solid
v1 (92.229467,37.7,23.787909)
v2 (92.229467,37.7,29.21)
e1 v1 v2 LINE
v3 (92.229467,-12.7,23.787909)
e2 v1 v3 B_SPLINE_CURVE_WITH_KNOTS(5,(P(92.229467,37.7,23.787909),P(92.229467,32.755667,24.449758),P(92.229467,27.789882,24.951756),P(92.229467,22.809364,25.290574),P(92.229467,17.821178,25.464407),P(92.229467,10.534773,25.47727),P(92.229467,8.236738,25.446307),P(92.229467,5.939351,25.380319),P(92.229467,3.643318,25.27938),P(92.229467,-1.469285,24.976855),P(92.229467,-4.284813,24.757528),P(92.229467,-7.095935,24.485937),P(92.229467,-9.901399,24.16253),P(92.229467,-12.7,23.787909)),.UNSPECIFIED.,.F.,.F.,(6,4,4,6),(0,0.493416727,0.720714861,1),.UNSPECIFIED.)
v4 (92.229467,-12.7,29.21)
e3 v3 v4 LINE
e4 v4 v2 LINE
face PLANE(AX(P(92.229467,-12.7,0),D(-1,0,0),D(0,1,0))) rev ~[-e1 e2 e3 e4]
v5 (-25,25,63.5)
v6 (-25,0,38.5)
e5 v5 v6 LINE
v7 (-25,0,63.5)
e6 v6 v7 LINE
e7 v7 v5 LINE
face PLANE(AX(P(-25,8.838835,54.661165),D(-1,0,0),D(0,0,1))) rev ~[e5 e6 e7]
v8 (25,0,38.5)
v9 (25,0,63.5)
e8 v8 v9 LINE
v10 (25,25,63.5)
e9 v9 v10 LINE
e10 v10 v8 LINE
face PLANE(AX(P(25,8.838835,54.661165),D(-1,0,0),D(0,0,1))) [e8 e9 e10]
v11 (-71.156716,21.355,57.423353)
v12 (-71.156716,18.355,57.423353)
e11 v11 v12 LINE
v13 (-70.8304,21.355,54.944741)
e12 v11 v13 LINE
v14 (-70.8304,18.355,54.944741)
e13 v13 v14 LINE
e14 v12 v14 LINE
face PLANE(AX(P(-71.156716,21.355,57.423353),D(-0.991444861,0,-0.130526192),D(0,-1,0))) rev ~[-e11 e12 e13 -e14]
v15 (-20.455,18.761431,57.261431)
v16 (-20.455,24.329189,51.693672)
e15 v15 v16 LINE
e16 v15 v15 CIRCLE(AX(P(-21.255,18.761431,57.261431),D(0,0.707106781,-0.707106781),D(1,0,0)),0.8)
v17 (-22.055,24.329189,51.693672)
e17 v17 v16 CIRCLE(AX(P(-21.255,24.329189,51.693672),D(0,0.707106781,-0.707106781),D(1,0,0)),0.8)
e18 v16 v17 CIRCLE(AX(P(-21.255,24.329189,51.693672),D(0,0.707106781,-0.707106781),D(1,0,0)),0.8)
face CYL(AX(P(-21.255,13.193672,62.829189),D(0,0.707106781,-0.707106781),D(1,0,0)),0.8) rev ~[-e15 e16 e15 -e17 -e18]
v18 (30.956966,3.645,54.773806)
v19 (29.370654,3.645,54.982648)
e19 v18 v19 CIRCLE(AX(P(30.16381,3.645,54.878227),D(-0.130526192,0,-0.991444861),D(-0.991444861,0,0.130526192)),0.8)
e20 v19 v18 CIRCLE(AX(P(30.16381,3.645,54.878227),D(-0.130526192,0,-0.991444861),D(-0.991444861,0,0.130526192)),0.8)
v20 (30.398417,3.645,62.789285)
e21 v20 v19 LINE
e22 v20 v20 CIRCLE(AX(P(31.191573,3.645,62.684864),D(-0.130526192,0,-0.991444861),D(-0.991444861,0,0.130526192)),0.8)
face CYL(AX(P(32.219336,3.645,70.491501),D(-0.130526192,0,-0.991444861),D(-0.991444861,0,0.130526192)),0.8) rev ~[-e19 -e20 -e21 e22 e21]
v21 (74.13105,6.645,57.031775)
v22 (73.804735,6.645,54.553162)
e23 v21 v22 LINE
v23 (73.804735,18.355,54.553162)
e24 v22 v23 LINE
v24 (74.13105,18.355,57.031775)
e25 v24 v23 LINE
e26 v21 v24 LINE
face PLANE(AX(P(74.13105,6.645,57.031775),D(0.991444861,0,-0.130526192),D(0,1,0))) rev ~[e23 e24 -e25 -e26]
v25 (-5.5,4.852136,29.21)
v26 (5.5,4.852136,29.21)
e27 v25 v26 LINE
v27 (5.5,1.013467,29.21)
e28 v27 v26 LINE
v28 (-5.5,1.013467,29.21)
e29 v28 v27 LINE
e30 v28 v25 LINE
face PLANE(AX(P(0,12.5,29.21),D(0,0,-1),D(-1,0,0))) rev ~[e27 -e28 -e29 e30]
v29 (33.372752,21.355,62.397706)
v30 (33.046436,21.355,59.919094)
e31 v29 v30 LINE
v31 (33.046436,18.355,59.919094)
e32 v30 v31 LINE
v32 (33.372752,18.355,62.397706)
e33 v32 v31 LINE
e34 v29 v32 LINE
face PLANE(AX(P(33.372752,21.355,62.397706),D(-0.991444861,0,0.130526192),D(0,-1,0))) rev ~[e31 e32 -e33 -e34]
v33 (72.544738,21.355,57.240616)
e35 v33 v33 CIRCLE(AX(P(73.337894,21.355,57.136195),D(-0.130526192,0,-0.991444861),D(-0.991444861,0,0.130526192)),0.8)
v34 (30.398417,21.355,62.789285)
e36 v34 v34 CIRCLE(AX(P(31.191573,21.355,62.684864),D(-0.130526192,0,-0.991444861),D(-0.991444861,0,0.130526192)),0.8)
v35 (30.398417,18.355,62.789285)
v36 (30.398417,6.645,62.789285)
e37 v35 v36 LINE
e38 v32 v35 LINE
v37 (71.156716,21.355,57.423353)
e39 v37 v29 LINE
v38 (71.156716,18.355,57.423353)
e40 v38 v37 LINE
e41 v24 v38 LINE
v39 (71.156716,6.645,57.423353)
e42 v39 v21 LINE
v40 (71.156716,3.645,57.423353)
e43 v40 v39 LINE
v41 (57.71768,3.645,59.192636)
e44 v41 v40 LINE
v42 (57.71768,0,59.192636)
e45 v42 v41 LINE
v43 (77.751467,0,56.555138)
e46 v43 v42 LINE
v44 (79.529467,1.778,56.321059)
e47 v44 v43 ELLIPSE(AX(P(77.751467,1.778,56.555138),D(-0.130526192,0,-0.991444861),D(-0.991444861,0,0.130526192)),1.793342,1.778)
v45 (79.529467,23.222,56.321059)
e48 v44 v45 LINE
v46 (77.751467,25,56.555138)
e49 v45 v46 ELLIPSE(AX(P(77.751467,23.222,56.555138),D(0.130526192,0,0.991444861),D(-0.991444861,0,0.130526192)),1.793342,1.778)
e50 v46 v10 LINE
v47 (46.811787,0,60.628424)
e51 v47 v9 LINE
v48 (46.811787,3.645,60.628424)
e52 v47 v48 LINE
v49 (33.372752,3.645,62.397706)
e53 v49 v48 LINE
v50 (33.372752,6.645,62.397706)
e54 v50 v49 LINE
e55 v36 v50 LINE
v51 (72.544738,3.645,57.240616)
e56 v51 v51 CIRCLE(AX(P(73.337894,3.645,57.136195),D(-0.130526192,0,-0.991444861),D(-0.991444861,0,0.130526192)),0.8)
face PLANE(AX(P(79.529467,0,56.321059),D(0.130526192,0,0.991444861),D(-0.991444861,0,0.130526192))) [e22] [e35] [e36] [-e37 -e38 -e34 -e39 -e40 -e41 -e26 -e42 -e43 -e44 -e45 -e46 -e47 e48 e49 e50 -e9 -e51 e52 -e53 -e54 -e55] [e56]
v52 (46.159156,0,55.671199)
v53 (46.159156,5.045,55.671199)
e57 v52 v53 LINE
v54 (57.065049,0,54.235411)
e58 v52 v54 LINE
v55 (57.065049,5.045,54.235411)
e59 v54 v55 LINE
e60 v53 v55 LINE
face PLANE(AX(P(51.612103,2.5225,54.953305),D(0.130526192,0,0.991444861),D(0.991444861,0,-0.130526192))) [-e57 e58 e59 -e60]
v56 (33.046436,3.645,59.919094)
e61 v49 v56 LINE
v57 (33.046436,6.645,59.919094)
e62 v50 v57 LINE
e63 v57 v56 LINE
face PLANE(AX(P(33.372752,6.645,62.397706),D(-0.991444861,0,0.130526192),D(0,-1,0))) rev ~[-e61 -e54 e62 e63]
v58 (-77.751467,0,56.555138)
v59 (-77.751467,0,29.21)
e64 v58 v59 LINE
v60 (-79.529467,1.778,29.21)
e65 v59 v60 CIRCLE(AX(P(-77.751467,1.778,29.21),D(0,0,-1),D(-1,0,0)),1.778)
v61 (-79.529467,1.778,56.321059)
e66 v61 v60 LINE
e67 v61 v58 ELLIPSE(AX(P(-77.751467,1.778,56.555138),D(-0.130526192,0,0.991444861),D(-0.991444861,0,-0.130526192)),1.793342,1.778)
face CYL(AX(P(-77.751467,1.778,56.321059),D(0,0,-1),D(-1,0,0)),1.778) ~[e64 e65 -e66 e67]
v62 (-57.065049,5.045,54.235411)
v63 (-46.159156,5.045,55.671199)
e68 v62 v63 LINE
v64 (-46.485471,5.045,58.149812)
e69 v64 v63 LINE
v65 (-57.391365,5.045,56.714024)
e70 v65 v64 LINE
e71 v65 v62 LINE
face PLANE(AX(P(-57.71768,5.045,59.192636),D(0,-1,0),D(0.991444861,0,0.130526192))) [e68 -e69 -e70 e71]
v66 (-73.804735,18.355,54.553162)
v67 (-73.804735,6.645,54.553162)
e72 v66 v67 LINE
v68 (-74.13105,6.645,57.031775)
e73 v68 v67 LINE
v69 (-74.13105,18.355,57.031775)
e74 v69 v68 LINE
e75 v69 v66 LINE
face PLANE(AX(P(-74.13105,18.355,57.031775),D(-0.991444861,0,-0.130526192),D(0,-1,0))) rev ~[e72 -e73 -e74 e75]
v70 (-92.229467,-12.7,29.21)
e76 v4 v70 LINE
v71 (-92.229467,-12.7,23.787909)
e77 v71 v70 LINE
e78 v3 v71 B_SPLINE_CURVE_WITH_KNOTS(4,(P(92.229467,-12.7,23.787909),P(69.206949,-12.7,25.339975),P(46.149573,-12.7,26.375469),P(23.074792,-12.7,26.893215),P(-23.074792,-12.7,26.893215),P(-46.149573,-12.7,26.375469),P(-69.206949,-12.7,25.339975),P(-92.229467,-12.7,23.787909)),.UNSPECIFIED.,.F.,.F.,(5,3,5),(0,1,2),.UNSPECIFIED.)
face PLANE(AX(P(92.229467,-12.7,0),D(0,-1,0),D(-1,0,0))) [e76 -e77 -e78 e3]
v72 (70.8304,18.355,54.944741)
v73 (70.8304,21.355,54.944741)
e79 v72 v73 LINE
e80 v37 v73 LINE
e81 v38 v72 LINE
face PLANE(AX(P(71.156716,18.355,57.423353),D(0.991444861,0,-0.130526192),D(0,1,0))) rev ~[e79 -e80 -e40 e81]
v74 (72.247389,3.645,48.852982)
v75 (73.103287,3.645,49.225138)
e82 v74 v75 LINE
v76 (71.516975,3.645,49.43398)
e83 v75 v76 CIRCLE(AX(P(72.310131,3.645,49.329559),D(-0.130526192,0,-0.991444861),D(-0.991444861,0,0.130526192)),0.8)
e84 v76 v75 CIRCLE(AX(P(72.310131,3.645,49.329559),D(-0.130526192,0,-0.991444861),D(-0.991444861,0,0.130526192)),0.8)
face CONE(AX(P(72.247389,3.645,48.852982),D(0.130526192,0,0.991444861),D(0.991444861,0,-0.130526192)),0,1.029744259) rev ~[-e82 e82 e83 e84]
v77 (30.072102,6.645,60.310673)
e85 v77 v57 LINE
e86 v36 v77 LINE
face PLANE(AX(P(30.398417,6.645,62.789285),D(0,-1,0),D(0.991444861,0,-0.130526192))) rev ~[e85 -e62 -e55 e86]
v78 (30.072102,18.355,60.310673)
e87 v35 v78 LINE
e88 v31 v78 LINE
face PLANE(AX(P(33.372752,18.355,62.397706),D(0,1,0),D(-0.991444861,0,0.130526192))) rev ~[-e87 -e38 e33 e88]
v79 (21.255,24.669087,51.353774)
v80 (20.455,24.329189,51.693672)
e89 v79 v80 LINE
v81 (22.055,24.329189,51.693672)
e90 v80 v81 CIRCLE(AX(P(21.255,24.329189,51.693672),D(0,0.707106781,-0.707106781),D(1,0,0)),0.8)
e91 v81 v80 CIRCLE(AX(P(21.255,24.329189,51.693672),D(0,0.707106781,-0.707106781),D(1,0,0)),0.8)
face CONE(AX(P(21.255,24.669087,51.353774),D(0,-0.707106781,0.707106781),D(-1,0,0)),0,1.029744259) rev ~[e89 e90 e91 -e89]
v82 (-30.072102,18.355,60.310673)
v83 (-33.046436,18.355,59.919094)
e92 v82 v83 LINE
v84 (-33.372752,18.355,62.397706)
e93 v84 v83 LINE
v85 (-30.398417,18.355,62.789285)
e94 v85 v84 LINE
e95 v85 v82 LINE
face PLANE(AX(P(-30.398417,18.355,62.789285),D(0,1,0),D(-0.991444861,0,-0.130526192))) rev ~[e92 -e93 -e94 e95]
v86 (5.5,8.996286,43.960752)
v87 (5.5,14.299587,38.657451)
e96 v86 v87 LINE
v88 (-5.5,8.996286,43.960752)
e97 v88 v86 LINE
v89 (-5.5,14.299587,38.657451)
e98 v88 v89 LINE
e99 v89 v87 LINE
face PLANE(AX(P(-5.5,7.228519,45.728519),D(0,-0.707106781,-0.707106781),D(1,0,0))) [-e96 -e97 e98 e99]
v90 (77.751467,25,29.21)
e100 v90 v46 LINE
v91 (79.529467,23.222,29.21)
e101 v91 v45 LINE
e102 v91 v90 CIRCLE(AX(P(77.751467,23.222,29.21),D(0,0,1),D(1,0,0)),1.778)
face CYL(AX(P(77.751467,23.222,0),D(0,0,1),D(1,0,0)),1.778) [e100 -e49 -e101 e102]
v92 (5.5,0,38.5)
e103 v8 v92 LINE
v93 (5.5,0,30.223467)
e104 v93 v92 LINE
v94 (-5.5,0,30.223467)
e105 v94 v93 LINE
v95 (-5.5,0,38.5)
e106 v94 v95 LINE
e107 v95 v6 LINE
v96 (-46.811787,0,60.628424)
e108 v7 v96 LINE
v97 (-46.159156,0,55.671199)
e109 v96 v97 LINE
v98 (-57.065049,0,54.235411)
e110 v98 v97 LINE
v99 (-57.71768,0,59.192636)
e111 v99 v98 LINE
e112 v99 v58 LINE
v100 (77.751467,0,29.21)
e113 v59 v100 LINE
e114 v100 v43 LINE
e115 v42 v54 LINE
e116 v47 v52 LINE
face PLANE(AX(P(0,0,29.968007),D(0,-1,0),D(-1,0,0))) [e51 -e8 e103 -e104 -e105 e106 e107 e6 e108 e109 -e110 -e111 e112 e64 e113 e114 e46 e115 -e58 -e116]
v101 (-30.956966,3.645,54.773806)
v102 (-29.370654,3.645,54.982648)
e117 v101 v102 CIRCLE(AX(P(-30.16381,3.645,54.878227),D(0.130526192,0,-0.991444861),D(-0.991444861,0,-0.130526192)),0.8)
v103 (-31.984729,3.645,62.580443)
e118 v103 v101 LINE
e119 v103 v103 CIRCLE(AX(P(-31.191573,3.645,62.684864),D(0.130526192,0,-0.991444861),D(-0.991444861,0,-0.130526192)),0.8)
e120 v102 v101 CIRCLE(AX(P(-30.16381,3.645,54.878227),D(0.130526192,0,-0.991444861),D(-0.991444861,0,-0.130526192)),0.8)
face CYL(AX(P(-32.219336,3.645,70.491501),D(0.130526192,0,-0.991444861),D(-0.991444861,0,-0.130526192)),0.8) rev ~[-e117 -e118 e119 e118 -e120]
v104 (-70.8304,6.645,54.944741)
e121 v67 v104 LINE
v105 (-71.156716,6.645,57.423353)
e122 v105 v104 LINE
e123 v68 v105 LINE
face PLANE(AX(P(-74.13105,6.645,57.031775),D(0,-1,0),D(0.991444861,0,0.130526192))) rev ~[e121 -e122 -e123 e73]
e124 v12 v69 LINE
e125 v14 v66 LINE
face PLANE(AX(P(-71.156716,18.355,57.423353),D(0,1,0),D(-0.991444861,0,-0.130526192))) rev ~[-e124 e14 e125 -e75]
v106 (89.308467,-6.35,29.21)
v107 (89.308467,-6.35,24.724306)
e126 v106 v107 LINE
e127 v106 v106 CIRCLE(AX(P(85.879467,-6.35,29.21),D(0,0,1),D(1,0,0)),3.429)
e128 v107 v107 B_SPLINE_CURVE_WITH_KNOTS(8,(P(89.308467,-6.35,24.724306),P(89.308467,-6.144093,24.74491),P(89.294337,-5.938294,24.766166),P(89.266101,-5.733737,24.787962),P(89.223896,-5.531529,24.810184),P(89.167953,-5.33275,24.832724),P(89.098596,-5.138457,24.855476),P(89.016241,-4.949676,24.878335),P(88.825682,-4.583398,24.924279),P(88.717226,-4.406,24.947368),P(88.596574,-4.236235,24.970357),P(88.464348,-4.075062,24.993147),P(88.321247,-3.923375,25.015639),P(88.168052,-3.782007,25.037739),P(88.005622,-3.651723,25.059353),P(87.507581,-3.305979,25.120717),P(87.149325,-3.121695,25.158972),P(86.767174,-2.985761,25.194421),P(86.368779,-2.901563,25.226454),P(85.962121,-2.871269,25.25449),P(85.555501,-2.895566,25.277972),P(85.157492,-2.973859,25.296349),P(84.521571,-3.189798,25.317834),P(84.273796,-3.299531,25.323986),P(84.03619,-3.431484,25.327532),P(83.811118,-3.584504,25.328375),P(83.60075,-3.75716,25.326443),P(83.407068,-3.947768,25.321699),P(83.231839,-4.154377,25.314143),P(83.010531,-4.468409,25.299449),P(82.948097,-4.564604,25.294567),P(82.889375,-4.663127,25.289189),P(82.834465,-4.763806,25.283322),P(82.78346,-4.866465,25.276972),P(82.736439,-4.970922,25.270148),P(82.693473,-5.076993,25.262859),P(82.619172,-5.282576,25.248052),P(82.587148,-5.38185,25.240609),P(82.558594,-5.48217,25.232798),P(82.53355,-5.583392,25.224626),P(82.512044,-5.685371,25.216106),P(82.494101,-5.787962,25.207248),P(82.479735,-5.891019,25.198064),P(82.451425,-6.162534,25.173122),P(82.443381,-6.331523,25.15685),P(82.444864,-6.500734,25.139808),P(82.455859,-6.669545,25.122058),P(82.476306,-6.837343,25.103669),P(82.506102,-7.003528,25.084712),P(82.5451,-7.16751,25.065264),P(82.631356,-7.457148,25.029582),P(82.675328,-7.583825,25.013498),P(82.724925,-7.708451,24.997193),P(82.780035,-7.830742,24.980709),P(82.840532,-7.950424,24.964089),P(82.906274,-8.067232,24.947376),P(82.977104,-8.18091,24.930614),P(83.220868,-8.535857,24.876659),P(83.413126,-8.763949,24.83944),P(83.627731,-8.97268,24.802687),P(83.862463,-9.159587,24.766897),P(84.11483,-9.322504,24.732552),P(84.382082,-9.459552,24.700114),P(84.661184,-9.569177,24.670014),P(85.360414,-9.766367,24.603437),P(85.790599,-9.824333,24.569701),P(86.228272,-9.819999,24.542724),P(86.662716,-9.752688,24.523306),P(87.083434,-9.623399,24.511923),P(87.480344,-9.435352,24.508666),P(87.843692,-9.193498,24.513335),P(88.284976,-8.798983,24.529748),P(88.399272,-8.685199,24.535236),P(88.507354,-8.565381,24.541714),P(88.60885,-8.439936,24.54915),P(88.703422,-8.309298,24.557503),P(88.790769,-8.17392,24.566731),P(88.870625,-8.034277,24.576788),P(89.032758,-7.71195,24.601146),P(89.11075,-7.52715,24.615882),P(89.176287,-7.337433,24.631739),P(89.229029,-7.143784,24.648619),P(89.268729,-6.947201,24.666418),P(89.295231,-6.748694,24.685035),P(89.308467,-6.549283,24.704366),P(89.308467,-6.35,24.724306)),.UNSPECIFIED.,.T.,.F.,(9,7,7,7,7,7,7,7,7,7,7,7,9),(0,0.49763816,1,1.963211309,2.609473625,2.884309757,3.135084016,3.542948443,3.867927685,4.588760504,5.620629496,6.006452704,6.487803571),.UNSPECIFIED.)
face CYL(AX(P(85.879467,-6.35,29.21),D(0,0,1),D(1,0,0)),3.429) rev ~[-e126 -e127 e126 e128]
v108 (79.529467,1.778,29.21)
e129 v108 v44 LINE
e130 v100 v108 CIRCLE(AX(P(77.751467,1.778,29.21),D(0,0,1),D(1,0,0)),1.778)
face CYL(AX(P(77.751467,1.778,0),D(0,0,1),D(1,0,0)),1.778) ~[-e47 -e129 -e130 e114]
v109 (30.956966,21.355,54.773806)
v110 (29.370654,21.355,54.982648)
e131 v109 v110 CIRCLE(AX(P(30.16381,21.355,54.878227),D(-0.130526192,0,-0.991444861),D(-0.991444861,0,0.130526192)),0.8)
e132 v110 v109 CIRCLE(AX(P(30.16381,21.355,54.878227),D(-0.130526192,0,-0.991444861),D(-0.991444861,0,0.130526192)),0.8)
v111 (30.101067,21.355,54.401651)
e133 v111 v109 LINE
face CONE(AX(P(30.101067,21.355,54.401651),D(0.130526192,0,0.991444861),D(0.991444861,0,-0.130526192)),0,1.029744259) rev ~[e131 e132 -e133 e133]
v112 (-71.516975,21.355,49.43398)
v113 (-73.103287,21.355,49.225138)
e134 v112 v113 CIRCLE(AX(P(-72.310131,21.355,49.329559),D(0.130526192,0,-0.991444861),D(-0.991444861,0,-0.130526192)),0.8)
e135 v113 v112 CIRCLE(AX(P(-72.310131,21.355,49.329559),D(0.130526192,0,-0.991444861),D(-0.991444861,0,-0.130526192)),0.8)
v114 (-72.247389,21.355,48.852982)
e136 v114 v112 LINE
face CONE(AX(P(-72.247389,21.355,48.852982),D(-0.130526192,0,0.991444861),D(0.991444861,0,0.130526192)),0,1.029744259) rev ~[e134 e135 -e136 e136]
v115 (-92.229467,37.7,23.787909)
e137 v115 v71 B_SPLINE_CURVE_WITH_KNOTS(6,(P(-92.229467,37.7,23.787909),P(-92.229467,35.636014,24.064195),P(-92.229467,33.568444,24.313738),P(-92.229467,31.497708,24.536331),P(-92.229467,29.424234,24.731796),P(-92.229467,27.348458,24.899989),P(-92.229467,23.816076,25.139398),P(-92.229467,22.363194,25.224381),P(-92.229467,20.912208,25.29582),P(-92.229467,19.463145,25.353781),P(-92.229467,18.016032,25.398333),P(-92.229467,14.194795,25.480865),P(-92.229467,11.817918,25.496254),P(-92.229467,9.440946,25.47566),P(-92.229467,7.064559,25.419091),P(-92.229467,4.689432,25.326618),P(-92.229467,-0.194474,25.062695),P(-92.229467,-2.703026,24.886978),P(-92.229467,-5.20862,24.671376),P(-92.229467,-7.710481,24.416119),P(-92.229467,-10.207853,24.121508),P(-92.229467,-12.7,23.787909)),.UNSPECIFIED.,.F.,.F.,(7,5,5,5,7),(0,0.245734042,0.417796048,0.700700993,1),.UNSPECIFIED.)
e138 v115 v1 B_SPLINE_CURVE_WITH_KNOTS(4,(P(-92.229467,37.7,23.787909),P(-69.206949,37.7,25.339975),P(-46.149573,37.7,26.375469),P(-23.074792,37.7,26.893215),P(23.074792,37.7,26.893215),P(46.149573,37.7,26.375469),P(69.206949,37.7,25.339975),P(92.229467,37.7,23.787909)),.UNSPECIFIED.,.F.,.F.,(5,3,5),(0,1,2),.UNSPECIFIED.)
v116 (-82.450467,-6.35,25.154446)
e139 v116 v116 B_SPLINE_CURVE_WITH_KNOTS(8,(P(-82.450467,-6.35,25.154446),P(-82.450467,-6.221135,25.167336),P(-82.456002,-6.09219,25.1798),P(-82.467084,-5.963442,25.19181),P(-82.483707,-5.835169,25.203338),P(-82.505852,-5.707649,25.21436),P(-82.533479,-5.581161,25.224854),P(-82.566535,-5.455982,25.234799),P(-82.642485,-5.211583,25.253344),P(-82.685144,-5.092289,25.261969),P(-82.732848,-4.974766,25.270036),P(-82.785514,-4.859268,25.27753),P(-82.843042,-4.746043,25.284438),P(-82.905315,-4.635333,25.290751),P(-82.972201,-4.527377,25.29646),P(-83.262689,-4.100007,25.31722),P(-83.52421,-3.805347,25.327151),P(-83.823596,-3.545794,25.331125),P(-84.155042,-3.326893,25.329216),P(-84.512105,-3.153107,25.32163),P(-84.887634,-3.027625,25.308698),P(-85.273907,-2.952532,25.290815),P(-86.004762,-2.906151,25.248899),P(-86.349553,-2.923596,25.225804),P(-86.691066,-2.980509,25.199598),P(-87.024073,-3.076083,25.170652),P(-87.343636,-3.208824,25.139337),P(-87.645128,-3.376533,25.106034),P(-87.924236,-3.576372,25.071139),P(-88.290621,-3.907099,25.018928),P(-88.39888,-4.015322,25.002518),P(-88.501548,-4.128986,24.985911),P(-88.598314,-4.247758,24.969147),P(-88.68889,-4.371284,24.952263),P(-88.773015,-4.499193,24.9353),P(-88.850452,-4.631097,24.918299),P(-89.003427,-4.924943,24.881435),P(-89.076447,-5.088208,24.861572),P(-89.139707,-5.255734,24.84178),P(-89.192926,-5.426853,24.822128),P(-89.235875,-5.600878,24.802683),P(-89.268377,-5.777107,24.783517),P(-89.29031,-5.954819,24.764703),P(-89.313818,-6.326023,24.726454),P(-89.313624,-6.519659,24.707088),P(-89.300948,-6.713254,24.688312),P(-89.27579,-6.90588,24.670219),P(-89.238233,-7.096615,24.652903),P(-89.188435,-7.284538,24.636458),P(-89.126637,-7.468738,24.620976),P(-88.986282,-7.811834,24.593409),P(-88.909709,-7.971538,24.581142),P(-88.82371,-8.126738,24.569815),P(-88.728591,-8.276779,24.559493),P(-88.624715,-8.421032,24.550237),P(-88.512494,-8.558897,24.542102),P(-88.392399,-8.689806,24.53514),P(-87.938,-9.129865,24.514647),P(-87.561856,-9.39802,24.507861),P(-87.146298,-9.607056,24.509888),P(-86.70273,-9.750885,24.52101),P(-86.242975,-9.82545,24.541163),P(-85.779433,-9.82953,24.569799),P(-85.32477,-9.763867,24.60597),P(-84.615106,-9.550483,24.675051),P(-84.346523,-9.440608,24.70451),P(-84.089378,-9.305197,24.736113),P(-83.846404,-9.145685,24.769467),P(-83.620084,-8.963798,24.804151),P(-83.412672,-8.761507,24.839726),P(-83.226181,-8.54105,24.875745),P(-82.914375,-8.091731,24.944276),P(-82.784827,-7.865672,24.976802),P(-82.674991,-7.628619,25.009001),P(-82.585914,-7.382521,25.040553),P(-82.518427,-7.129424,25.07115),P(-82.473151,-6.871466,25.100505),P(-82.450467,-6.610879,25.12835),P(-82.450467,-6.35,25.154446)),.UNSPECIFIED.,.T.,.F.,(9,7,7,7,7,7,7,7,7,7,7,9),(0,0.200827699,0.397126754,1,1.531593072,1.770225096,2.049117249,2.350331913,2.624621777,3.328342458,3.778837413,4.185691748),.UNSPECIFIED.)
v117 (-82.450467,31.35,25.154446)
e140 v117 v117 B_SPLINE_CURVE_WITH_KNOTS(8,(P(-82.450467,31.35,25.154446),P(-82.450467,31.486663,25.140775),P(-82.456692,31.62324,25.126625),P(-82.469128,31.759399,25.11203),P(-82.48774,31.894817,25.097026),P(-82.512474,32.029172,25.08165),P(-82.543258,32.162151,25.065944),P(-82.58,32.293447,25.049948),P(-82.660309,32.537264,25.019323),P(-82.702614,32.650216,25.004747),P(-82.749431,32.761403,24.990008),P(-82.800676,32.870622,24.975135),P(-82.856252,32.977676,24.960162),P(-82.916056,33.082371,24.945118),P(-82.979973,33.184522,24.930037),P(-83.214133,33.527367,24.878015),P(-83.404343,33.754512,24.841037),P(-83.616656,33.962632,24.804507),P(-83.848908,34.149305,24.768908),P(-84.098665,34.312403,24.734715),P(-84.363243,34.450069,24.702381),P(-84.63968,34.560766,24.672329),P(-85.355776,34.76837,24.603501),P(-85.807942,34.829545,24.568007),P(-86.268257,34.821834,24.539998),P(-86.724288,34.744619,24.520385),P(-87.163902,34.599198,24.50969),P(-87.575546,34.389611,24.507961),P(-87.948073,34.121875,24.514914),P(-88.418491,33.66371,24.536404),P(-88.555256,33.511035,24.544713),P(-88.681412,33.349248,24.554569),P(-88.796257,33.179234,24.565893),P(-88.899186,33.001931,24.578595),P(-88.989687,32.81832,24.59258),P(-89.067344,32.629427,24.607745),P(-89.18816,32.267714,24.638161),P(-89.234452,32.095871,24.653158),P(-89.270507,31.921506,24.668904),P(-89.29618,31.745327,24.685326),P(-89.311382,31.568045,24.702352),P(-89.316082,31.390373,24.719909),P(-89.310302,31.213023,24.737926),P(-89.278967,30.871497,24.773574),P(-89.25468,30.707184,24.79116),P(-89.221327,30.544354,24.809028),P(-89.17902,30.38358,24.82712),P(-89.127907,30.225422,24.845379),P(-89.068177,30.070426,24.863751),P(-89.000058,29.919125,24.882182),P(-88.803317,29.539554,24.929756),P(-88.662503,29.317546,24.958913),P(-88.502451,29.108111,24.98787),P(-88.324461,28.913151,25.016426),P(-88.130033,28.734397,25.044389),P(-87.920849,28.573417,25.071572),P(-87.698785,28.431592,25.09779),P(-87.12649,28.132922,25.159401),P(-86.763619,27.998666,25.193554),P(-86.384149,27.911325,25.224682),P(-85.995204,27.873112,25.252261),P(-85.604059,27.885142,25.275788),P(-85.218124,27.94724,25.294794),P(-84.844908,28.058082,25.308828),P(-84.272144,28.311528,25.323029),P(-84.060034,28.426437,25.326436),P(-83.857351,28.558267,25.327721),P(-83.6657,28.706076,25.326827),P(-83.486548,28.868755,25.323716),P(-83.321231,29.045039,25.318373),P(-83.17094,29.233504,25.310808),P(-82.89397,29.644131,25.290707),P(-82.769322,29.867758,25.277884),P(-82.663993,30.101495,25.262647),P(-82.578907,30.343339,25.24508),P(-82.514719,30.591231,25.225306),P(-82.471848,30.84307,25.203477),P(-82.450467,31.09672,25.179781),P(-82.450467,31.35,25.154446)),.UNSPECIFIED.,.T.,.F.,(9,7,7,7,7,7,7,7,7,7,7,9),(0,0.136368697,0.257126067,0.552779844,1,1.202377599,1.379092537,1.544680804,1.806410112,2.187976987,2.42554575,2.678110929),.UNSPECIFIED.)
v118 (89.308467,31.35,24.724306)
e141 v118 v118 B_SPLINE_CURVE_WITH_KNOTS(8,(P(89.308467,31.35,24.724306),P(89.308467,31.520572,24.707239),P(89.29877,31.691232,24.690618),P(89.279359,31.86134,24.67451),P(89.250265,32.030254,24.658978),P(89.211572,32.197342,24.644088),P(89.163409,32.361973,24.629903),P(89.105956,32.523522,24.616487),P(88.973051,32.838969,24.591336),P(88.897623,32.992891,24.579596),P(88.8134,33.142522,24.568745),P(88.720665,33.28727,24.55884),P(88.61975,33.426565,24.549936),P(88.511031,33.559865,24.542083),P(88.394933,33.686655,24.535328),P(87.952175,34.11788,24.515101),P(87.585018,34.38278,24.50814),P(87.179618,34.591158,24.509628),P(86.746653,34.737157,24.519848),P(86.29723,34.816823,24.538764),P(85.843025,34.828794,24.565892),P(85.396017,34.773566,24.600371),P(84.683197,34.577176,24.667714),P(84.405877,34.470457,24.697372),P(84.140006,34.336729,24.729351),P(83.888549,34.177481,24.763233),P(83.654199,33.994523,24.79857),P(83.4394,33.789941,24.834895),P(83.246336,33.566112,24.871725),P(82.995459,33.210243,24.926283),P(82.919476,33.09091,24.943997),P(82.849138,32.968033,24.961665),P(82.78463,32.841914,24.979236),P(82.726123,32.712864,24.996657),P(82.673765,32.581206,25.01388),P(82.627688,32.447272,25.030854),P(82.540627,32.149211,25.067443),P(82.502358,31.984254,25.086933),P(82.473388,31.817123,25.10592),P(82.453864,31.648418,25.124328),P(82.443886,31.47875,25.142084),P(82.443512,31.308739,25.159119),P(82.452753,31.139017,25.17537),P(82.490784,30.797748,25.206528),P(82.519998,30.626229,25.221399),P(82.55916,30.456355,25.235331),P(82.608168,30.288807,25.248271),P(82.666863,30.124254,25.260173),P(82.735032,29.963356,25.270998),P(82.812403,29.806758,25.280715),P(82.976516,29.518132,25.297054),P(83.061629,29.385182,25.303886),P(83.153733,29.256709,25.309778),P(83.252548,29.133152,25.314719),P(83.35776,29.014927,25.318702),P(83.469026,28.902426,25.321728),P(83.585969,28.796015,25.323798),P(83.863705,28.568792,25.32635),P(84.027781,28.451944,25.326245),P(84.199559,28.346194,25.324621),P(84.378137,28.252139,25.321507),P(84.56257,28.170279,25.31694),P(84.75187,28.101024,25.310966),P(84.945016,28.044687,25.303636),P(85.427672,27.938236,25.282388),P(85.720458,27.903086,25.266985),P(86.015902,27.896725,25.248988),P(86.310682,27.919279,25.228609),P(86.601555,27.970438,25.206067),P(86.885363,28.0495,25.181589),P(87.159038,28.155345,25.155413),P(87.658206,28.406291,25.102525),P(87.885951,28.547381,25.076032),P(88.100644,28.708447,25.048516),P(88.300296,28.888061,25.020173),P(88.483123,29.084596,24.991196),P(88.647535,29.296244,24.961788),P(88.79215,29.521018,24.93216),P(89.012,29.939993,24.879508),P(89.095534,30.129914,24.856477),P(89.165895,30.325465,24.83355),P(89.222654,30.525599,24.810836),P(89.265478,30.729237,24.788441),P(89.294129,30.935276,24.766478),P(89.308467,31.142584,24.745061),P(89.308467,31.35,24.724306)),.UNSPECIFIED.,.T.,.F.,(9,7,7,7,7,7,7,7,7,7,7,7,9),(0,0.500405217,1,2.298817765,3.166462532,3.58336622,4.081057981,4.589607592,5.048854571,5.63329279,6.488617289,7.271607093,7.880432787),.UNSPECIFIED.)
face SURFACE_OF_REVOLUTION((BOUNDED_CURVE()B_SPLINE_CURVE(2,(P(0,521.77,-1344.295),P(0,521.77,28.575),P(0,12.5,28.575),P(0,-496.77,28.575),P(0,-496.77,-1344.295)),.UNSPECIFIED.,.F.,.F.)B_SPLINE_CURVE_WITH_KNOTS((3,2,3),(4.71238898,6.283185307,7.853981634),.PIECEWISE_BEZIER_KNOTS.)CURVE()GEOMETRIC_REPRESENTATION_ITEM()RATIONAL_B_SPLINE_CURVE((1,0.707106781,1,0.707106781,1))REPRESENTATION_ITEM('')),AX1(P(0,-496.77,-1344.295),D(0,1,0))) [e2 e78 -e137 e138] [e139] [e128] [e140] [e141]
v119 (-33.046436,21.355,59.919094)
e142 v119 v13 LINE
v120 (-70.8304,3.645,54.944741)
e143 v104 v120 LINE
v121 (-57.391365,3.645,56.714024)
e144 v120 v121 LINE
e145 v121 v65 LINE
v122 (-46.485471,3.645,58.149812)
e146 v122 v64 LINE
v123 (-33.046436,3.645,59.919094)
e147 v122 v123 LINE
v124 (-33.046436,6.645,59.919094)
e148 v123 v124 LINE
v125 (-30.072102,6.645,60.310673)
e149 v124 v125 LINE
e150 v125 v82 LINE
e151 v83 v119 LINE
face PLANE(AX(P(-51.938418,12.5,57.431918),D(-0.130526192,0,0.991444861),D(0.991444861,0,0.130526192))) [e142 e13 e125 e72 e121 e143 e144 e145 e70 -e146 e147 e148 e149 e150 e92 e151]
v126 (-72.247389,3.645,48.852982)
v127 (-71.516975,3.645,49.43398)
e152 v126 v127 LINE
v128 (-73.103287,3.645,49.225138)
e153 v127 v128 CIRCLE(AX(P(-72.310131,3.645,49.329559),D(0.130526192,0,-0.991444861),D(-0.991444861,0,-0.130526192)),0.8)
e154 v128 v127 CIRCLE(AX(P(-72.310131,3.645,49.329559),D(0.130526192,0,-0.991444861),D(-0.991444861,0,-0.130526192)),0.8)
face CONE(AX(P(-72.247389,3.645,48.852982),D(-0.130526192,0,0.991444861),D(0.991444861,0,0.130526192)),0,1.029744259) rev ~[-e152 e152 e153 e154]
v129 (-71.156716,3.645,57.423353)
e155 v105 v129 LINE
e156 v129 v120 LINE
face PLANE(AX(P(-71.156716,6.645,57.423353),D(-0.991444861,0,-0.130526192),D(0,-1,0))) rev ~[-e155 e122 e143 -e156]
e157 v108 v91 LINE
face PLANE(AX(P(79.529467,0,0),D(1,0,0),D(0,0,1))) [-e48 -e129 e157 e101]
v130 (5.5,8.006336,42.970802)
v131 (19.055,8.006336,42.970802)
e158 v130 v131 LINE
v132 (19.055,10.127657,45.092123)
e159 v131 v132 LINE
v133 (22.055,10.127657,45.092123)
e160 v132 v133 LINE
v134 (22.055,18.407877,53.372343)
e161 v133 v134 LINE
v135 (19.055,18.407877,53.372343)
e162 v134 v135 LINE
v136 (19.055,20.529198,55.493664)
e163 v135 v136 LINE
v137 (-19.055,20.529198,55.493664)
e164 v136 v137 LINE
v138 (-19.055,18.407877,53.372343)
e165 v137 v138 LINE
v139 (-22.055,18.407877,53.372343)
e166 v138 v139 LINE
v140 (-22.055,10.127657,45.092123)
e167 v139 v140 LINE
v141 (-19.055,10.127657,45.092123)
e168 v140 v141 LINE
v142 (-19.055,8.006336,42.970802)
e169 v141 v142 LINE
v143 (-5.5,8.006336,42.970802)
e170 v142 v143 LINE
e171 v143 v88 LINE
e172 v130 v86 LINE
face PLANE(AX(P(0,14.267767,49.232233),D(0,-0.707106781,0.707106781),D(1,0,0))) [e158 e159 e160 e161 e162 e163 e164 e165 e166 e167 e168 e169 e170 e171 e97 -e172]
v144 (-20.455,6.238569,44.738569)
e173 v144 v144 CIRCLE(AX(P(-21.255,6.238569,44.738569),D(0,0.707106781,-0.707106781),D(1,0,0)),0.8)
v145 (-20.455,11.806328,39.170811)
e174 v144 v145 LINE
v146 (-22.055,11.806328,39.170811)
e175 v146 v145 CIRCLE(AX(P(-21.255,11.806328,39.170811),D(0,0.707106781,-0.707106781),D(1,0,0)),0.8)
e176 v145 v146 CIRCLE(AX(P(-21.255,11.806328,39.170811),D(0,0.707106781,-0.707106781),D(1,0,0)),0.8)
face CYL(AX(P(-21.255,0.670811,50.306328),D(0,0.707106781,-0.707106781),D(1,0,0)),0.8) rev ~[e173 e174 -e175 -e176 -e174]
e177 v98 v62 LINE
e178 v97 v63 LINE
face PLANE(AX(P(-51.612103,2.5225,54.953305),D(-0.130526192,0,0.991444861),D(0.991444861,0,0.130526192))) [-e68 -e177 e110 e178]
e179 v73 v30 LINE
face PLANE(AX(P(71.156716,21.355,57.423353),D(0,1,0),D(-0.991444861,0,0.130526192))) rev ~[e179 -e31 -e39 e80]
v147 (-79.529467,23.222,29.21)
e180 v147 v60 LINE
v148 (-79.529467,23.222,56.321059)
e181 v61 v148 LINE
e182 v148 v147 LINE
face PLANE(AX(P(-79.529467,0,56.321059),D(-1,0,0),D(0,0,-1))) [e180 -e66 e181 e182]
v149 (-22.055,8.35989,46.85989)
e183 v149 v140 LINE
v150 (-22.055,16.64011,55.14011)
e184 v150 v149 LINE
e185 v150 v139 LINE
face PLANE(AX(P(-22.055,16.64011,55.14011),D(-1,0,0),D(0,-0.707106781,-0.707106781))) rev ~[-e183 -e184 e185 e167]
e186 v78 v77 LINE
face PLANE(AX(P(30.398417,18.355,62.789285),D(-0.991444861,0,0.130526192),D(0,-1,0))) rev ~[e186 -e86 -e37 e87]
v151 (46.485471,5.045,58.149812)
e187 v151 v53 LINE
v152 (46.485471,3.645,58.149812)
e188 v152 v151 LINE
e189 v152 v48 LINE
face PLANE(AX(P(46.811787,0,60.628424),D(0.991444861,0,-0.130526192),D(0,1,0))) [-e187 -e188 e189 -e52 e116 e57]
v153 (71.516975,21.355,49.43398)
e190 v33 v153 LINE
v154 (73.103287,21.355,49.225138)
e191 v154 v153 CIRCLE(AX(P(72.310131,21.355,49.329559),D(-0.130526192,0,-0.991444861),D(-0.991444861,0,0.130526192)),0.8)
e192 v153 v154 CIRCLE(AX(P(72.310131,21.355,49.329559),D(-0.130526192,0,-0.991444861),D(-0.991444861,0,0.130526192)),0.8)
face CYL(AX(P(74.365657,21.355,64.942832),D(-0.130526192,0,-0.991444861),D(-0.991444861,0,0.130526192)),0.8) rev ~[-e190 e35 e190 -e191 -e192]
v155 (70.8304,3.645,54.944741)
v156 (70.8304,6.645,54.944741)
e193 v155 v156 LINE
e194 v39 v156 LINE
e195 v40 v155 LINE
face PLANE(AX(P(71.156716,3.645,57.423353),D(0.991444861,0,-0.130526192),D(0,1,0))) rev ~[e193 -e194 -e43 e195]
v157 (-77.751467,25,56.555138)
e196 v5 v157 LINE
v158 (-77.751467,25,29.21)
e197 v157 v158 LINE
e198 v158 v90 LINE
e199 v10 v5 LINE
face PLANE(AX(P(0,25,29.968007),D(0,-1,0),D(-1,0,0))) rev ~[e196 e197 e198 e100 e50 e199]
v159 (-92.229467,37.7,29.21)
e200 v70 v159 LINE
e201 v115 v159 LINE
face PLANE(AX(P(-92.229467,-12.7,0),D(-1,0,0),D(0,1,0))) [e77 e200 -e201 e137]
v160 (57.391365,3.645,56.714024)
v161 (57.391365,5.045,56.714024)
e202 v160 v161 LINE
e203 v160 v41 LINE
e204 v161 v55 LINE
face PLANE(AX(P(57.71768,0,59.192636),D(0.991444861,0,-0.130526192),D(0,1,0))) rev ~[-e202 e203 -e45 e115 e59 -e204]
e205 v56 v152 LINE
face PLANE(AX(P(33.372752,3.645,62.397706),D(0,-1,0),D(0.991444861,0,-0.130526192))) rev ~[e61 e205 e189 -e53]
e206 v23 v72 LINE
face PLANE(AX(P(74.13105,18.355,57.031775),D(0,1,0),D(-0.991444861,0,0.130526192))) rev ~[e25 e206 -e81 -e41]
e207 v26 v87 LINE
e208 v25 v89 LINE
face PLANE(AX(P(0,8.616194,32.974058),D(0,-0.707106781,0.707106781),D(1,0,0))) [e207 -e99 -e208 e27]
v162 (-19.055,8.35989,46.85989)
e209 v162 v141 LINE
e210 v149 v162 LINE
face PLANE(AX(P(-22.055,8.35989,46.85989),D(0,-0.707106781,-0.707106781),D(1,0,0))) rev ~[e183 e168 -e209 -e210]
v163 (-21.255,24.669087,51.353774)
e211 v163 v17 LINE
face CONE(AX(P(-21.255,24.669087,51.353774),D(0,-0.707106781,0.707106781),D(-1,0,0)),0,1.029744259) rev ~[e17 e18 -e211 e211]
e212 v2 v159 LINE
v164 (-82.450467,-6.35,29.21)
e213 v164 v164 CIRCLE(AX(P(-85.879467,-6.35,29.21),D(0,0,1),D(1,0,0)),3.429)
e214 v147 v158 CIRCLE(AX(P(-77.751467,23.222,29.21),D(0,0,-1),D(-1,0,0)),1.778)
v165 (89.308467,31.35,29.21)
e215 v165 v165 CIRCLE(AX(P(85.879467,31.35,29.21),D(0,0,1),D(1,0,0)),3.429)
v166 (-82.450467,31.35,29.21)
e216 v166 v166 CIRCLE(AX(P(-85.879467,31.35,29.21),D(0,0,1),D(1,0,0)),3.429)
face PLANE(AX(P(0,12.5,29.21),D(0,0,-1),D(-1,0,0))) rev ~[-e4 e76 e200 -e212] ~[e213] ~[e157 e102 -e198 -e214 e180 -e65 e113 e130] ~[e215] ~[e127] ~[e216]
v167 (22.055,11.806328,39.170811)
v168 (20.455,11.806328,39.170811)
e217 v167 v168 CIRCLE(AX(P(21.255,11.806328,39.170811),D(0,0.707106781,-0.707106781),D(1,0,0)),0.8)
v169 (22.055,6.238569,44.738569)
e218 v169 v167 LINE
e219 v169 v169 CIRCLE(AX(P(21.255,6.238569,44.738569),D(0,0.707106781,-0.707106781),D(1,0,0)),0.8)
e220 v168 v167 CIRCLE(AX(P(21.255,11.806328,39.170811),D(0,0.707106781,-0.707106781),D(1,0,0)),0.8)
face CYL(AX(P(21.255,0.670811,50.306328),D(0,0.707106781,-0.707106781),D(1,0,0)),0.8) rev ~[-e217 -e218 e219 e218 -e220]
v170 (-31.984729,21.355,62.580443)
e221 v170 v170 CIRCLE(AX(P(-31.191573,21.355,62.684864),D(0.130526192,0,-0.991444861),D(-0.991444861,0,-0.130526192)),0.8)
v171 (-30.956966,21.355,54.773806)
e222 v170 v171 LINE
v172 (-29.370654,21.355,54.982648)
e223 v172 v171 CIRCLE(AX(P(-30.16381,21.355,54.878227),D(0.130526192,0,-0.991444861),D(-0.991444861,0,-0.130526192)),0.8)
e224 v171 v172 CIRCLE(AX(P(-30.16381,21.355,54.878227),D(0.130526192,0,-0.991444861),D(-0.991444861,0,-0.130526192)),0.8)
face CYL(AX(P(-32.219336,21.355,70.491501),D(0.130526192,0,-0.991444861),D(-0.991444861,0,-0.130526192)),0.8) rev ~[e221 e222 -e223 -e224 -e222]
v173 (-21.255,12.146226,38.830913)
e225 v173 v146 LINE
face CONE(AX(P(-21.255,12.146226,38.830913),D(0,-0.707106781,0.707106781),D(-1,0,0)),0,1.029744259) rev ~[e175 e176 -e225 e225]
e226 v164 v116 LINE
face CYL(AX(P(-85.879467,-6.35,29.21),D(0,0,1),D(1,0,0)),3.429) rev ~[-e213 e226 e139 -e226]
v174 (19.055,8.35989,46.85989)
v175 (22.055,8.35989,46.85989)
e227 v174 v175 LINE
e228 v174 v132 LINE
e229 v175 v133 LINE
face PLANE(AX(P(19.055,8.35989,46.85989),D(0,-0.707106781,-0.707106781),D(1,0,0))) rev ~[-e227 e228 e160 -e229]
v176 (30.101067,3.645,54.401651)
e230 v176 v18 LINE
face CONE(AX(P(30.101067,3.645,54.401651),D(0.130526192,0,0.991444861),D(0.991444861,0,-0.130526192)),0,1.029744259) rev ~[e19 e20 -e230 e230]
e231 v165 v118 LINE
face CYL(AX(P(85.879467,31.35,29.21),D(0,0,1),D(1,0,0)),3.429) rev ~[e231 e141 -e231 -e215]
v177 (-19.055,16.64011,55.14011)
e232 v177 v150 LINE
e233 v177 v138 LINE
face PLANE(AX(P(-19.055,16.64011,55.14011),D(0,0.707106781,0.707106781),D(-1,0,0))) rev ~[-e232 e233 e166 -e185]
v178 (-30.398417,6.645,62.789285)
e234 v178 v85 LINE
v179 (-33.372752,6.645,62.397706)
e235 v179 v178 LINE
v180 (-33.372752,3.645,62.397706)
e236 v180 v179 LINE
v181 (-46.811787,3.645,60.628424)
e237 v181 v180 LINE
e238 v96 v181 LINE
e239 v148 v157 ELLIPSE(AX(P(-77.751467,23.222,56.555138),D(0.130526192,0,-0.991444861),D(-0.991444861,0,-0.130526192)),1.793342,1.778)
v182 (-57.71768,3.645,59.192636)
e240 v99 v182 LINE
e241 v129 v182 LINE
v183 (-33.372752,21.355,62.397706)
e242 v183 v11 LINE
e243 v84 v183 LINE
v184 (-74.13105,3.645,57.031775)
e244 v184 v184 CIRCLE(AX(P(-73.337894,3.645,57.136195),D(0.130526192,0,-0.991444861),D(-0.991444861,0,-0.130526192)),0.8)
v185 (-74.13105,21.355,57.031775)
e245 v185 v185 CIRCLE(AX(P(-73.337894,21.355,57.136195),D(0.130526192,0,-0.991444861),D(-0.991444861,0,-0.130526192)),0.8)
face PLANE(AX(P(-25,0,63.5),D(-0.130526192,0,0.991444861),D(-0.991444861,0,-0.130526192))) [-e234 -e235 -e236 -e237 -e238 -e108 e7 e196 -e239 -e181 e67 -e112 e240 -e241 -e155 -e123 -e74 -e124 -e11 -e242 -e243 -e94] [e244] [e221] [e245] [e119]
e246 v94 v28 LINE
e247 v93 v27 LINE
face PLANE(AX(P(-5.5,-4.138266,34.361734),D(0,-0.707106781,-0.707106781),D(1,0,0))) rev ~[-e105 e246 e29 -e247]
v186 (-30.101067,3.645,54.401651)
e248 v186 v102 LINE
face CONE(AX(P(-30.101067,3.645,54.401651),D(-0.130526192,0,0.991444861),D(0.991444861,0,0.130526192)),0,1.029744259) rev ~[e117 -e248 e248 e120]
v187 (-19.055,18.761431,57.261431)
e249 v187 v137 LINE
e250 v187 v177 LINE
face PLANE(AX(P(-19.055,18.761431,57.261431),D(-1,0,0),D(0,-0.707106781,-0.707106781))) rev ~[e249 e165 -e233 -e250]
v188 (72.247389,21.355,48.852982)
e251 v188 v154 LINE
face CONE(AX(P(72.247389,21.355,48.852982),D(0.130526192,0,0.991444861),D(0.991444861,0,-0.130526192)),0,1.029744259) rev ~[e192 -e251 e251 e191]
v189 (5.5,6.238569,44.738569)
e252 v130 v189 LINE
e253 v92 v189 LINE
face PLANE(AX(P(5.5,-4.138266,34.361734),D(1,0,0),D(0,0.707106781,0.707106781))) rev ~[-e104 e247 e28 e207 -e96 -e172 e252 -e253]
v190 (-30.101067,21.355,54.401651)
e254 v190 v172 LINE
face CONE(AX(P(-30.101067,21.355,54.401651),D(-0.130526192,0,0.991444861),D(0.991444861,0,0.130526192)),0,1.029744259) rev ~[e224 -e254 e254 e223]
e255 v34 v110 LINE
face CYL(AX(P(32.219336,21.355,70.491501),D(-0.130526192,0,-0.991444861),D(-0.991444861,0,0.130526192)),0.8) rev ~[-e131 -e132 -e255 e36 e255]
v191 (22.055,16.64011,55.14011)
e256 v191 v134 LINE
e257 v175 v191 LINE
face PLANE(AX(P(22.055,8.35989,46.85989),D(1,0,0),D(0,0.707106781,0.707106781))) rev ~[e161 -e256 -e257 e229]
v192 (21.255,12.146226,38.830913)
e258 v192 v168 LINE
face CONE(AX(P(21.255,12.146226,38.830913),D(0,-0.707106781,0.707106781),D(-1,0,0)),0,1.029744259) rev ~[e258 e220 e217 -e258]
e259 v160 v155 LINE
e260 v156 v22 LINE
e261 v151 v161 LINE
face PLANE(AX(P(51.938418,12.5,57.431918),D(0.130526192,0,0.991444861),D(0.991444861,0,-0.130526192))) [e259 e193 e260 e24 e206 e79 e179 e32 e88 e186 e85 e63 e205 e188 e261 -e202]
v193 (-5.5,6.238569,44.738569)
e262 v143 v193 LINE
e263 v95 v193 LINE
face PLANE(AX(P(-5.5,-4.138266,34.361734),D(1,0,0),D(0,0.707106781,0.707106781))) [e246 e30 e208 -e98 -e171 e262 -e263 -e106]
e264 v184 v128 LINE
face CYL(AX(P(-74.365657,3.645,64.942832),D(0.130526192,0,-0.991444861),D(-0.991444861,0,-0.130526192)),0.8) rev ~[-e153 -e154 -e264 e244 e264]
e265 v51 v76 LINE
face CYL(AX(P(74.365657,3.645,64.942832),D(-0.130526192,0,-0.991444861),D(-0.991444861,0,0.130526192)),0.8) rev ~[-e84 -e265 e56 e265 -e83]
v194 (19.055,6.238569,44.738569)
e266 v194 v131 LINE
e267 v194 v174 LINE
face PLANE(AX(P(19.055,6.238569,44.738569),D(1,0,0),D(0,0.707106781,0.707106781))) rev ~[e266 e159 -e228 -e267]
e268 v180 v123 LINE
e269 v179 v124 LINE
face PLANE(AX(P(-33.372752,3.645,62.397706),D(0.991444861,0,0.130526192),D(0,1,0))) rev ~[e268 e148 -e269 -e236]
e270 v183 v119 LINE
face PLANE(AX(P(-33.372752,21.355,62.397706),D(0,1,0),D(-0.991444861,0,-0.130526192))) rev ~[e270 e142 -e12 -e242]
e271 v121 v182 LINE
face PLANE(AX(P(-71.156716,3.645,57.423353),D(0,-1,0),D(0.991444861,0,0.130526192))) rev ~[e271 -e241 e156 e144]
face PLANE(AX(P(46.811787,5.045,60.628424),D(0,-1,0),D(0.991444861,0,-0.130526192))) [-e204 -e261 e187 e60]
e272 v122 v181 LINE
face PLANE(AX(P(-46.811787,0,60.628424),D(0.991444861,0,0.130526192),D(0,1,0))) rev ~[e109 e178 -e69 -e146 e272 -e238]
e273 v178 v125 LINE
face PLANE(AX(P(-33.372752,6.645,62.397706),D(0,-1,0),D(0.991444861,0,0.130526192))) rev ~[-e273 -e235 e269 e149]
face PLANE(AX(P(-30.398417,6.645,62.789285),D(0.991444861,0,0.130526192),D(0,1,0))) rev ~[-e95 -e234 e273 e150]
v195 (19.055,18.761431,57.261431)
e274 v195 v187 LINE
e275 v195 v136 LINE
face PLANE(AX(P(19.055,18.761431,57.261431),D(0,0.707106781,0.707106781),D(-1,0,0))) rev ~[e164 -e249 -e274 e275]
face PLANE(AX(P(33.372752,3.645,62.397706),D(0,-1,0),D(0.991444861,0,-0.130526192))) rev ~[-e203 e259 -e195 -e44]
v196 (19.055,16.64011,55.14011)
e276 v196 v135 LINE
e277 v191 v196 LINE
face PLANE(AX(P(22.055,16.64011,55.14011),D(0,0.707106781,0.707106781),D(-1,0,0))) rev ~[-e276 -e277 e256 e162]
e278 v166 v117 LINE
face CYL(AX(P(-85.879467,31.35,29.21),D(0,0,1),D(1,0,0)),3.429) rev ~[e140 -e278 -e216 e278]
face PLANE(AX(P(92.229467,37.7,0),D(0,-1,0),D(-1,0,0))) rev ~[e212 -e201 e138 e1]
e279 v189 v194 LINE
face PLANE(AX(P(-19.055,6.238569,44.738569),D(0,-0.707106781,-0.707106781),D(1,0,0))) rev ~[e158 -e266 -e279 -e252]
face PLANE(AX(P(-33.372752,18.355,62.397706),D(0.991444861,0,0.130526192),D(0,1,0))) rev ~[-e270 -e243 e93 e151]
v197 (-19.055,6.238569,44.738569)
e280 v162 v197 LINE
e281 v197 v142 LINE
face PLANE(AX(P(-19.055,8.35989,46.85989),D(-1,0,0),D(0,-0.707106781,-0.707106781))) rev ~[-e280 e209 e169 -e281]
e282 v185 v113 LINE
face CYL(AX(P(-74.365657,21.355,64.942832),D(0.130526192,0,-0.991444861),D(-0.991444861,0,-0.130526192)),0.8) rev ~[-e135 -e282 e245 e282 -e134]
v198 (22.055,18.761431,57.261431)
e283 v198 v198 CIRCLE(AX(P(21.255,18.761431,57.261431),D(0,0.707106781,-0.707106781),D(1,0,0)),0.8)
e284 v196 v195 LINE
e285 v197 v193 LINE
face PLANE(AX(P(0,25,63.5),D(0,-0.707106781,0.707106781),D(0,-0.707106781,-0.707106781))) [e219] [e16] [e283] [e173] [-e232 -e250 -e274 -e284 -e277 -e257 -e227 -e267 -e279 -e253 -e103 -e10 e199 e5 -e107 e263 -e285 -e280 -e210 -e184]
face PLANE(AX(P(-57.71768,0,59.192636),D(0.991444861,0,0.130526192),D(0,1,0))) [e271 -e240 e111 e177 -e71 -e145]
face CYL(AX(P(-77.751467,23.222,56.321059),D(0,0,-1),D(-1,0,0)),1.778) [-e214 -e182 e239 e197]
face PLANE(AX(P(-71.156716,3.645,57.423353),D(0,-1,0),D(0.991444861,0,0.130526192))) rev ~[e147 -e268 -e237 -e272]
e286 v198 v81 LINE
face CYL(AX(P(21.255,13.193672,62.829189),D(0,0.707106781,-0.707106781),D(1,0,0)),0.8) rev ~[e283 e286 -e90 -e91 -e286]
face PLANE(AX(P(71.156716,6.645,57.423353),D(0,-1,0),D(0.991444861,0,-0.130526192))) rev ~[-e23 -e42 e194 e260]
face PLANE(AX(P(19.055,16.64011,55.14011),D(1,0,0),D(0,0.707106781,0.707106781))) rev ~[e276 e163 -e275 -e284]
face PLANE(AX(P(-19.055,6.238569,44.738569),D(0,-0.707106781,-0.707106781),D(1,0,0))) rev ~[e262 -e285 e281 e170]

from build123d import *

# Parameters (mm, degrees)
BOSS_EXTRUDE4_DEPTH           = 25
CUT_EXTRUDE2_DEPTH            = 25
TAP_DRILL_FOR_4_40_TAP1_D     = 1.600000102
TAP_DRILL_FOR_4_40_TAP1_DEPTH = 7.874
TAP_DRILL_FOR_4_40_TAP1_TIP   = 0.480688526
TAP_DRILL_FOR_4_40_TAP3_D     = 1.600000102
TAP_DRILL_FOR_4_40_TAP3_DEPTH = 7.874
TAP_DRILL_FOR_4_40_TAP3_TIP   = 0.480688526
TAP_DRILL_FOR_4_40_TAP4_D     = 1.600000102
TAP_DRILL_FOR_4_40_TAP4_DEPTH = 7.874
TAP_DRILL_FOR_4_40_TAP4_TIP   = 0.480688526
FILLET1_R                     = 1.778
CUT_EXTRUDE3_DEPTH            = 2.5
CUT_EXTRUDE4_DEPTH            = 2.5
CUT_EXTRUDE5_DEPTH            = 2.5
SKETCH23_W                    = 11
SKETCH23_H                    = 5.045
CUT_EXTRUDE6_DEPTH            = 5
SKETCH24_W                    = 11
SKETCH24_H                    = 5.045
CUT_EXTRUDE7_DEPTH            = 5
SKETCH25_W                    = 11
SKETCH25_H                    = 16.07506189
CUT_EXTRUDE8_DEPTH            = 10
SKETCH26_W                    = 184.458934752
SKETCH26_H                    = 50.4
BOSS_EXTRUDE6_DEPTH           = 29.21
SKETCH27_R                    = 3.429
CUT_EXTRUDE9_DEPTH            = 106.37252383


with BuildPart() as part:
    # Sketch6 → Boss-Extrude4 (new body)
    with BuildSketch(Plane(origin=(0, 0, 0), x_dir=(1, 0, 0), z_dir=(0, 1, 0))):
        Polygon((-79.529467376, 0), (79.529467376, 0), (79.529467376, -56.321059428), (25, -63.5), (-25, -63.5), (-79.529467376, -56.321059428), align=None)
    extrude(amount=BOSS_EXTRUDE4_DEPTH)

    # Sketch7 → Cut-Extrude2 (cut, symmetric)
    with BuildSketch(Plane(origin=(0, 0, 0), x_dir=(0, 0, -1), z_dir=(1, 0, 0))):
        Polygon((-63.5, 25), (-38.5, 0), (-63.5, 0), align=None)
    extrude(amount=CUT_EXTRUDE2_DEPTH, both=True, mode=Mode.SUBTRACT)

    # Tap Drill for #4-40 Tap1
    with Locations(Plane(origin=(0, -19.25, 19.25), x_dir=(-1, 0, 0), z_dir=(0, -0.7071067811865488, 0.7071067811865462))):
        with Locations((-21.255000035, -53.756280605), (21.255000035, -53.756280605), (21.255000035, -36.046280605), (-21.255000035, -36.046280605)):
            Hole(TAP_DRILL_FOR_4_40_TAP1_D / 2, depth=TAP_DRILL_FOR_4_40_TAP1_DEPTH)
            with Locations((0, 0, -(TAP_DRILL_FOR_4_40_TAP1_DEPTH + TAP_DRILL_FOR_4_40_TAP1_TIP / 2))):  # 118° drill point
                Cone(0, TAP_DRILL_FOR_4_40_TAP1_D / 2, TAP_DRILL_FOR_4_40_TAP1_TIP, mode=Mode.SUBTRACT)

    # Tap Drill for #4-40 Tap3
    with Locations(Plane(origin=(-8.643431853, 0, 65.653383048), x_dir=(0.9914448613738104, 0, 0.13052619222005213), z_dir=(-0.13052619222005213, 0, 0.9914448613738104))):
        with Locations((-65.252708328, 21.355), (-22.742708328, 21.355), (-22.742708328, 3.645), (-65.252708328, 3.645)):
            Hole(TAP_DRILL_FOR_4_40_TAP3_D / 2, depth=TAP_DRILL_FOR_4_40_TAP3_DEPTH)
            with Locations((0, 0, -(TAP_DRILL_FOR_4_40_TAP3_DEPTH + TAP_DRILL_FOR_4_40_TAP3_TIP / 2))):  # 118° drill point
                Cone(0, TAP_DRILL_FOR_4_40_TAP3_D / 2, TAP_DRILL_FOR_4_40_TAP3_TIP, mode=Mode.SUBTRACT)

    # Tap Drill for #4-40 Tap4
    with Locations(Plane(origin=(8.643431853, 0, 65.653383048), x_dir=(0.9914448613738104, 0, -0.13052619222005213), z_dir=(0.13052619222005213, 0, 0.9914448613738104))):
        with Locations((22.742708328, 21.355), (65.252708328, 21.355), (65.252708328, 3.645), (22.742708328, 3.645)):
            Hole(TAP_DRILL_FOR_4_40_TAP4_D / 2, depth=TAP_DRILL_FOR_4_40_TAP4_DEPTH)
            with Locations((0, 0, -(TAP_DRILL_FOR_4_40_TAP4_DEPTH + TAP_DRILL_FOR_4_40_TAP4_TIP / 2))):  # 118° drill point
                Cone(0, TAP_DRILL_FOR_4_40_TAP4_D / 2, TAP_DRILL_FOR_4_40_TAP4_TIP, mode=Mode.SUBTRACT)

    # Fillet1
    fillet1_edges = [part.edges().sort_by_distance(p)[0] for p in [
        (-79.529467376, 25, 28.160529714),
        (79.529467376, 25, 28.160529714),
        (-79.529467376, 0, 28.160529714),
        (79.529467376, 0, 28.160529714),
    ]]
    fillet(fillet1_edges, radius=FILLET1_R)

    # Sketch22 → Cut-Extrude3 (cut)
    with BuildSketch(Plane(origin=(0, -19.25, 19.25), x_dir=(1, 0, 0), z_dir=(0, -0.7071067811865488, 0.7071067811865462))):
        Polygon((-19.055000086, 53.756280605), (-19.055000086, 50.756280605), (-22.055000086, 50.756280605), (-22.055000086, 39.046280605), (-19.055000086, 39.046280605), (-19.055000086, 36.046280605), (19.055000086, 36.046280605), (19.055000086, 39.046280605), (22.055000086, 39.046280605), (22.055000086, 50.756280605), (19.055000086, 50.756280605), (19.055000086, 53.756280605), align=None)
    extrude(amount=-CUT_EXTRUDE3_DEPTH, mode=Mode.SUBTRACT)

    # Sketch21 → Cut-Extrude4 (cut)
    with BuildSketch(Plane(origin=(8.643431853, 0, 65.653383048), x_dir=(0.9914448613738104, 0, -0.13052619222005213), z_dir=(0.13052619222005213, 0, 0.9914448613738104))):
        Polygon((24.942708277, 21.355), (24.942708277, 18.355), (21.942708277, 18.355), (21.942708277, 6.645), (24.942708277, 6.645), (24.942708277, 3.645), (63.052708379, 3.645), (63.052708379, 6.645), (66.052708379, 6.645), (66.052708379, 18.355), (63.052708379, 18.355), (63.052708379, 21.355), align=None)
    extrude(amount=-CUT_EXTRUDE4_DEPTH, mode=Mode.SUBTRACT)

    # Sketch20 → Cut-Extrude5 (cut)
    with BuildSketch(Plane(origin=(-8.643431853, 0, 65.653383048), x_dir=(0.9914448613738104, 0, 0.13052619222005213), z_dir=(-0.13052619222005213, 0, 0.9914448613738104))):
        Polygon((-63.052708379, 21.355), (-63.052708379, 18.355), (-66.052708379, 18.355), (-66.052708379, 6.645), (-63.052708379, 6.645), (-63.052708379, 3.645), (-24.942708277, 3.645), (-24.942708277, 6.645), (-21.942708277, 6.645), (-21.942708277, 18.355), (-24.942708277, 18.355), (-24.942708277, 21.355), align=None)
    extrude(amount=-CUT_EXTRUDE5_DEPTH, mode=Mode.SUBTRACT)

    # Sketch23 → Cut-Extrude6 (cut)
    with BuildSketch(Plane(origin=(8.643431853, 0, 65.653383048), x_dir=(0.9914448613738104, 0, -0.13052619222005213), z_dir=(0.13052619222005213, 0, 0.9914448613738104))):
        with Locations((43.997708328, 2.5225)):
            Rectangle(SKETCH23_W, SKETCH23_H)
    extrude(amount=-CUT_EXTRUDE6_DEPTH, mode=Mode.SUBTRACT)

    # Sketch24 → Cut-Extrude7 (cut)
    with BuildSketch(Plane(origin=(-8.643431853, 0, 65.653383048), x_dir=(0.9914448613738104, 0, 0.13052619222005213), z_dir=(-0.13052619222005213, 0, 0.9914448613738104))):
        with Locations((-43.997708328, 2.5225)):
            Rectangle(SKETCH24_W, SKETCH24_H)
    extrude(amount=-CUT_EXTRUDE7_DEPTH, mode=Mode.SUBTRACT)

    # Sketch25 → Cut-Extrude8 (cut)
    with BuildSketch(Plane(origin=(0, -19.25, 19.25), x_dir=(1, 0, 0), z_dir=(0, -0.7071067811865488, 0.7071067811865462))):
        with Locations((0, 29.40874966)):
            Rectangle(SKETCH25_W, SKETCH25_H)
    extrude(amount=-CUT_EXTRUDE8_DEPTH, mode=Mode.SUBTRACT)

    # Sketch26 → Boss-Extrude6 (add)
    with BuildSketch(Plane(origin=(0, 0, 0), x_dir=(-1, 0, 0), z_dir=(0, 0, -1))):
        with Locations((0, 12.5)):
            Rectangle(SKETCH26_W, SKETCH26_H)
    extrude(amount=-BOSS_EXTRUDE6_DEPTH)

    # Sketch11 → Cut-Revolve4 (revolve, cut)
    with BuildSketch(Plane(origin=(0, 0, 0), x_dir=(0, 0, -1), z_dir=(1, 0, 0))):
        with BuildLine():
            Line((1344.295, -496.77), (1344.295, 521.77))
            add(Edge.make_bspline(
                [(1344.295, 521.77), (-28.575, 521.77), (-28.575, 12.5), (-28.575, -496.77), (1344.295, -496.77)],
                knots=[4.71238898, 4.71238898, 4.71238898, 6.283185307, 6.283185307, 7.853981634, 7.853981634, 7.853981634], degree=2, weights=[1, 0.707106781, 1, 0.707106781, 1]))
        make_face()
    revolve(axis=Axis((0, -496.77, -1344.295), (0, 1, 0)), mode=Mode.SUBTRACT)

    # Sketch27 → Cut-Extrude9 (cut, through all)
    with BuildSketch(Plane.XY.offset(29.21)):
        with Locations((85.879467376, -6.35)):
            Circle(SKETCH27_R)
        with Locations((-85.879467376, -6.35)):
            Circle(SKETCH27_R)
        with Locations((-85.879467376, 31.35)):
            Circle(SKETCH27_R)
        with Locations((85.879467376, 31.35)):
            Circle(SKETCH27_R)
    extrude(amount=-CUT_EXTRUDE9_DEPTH, mode=Mode.SUBTRACT)


solid = part.part
